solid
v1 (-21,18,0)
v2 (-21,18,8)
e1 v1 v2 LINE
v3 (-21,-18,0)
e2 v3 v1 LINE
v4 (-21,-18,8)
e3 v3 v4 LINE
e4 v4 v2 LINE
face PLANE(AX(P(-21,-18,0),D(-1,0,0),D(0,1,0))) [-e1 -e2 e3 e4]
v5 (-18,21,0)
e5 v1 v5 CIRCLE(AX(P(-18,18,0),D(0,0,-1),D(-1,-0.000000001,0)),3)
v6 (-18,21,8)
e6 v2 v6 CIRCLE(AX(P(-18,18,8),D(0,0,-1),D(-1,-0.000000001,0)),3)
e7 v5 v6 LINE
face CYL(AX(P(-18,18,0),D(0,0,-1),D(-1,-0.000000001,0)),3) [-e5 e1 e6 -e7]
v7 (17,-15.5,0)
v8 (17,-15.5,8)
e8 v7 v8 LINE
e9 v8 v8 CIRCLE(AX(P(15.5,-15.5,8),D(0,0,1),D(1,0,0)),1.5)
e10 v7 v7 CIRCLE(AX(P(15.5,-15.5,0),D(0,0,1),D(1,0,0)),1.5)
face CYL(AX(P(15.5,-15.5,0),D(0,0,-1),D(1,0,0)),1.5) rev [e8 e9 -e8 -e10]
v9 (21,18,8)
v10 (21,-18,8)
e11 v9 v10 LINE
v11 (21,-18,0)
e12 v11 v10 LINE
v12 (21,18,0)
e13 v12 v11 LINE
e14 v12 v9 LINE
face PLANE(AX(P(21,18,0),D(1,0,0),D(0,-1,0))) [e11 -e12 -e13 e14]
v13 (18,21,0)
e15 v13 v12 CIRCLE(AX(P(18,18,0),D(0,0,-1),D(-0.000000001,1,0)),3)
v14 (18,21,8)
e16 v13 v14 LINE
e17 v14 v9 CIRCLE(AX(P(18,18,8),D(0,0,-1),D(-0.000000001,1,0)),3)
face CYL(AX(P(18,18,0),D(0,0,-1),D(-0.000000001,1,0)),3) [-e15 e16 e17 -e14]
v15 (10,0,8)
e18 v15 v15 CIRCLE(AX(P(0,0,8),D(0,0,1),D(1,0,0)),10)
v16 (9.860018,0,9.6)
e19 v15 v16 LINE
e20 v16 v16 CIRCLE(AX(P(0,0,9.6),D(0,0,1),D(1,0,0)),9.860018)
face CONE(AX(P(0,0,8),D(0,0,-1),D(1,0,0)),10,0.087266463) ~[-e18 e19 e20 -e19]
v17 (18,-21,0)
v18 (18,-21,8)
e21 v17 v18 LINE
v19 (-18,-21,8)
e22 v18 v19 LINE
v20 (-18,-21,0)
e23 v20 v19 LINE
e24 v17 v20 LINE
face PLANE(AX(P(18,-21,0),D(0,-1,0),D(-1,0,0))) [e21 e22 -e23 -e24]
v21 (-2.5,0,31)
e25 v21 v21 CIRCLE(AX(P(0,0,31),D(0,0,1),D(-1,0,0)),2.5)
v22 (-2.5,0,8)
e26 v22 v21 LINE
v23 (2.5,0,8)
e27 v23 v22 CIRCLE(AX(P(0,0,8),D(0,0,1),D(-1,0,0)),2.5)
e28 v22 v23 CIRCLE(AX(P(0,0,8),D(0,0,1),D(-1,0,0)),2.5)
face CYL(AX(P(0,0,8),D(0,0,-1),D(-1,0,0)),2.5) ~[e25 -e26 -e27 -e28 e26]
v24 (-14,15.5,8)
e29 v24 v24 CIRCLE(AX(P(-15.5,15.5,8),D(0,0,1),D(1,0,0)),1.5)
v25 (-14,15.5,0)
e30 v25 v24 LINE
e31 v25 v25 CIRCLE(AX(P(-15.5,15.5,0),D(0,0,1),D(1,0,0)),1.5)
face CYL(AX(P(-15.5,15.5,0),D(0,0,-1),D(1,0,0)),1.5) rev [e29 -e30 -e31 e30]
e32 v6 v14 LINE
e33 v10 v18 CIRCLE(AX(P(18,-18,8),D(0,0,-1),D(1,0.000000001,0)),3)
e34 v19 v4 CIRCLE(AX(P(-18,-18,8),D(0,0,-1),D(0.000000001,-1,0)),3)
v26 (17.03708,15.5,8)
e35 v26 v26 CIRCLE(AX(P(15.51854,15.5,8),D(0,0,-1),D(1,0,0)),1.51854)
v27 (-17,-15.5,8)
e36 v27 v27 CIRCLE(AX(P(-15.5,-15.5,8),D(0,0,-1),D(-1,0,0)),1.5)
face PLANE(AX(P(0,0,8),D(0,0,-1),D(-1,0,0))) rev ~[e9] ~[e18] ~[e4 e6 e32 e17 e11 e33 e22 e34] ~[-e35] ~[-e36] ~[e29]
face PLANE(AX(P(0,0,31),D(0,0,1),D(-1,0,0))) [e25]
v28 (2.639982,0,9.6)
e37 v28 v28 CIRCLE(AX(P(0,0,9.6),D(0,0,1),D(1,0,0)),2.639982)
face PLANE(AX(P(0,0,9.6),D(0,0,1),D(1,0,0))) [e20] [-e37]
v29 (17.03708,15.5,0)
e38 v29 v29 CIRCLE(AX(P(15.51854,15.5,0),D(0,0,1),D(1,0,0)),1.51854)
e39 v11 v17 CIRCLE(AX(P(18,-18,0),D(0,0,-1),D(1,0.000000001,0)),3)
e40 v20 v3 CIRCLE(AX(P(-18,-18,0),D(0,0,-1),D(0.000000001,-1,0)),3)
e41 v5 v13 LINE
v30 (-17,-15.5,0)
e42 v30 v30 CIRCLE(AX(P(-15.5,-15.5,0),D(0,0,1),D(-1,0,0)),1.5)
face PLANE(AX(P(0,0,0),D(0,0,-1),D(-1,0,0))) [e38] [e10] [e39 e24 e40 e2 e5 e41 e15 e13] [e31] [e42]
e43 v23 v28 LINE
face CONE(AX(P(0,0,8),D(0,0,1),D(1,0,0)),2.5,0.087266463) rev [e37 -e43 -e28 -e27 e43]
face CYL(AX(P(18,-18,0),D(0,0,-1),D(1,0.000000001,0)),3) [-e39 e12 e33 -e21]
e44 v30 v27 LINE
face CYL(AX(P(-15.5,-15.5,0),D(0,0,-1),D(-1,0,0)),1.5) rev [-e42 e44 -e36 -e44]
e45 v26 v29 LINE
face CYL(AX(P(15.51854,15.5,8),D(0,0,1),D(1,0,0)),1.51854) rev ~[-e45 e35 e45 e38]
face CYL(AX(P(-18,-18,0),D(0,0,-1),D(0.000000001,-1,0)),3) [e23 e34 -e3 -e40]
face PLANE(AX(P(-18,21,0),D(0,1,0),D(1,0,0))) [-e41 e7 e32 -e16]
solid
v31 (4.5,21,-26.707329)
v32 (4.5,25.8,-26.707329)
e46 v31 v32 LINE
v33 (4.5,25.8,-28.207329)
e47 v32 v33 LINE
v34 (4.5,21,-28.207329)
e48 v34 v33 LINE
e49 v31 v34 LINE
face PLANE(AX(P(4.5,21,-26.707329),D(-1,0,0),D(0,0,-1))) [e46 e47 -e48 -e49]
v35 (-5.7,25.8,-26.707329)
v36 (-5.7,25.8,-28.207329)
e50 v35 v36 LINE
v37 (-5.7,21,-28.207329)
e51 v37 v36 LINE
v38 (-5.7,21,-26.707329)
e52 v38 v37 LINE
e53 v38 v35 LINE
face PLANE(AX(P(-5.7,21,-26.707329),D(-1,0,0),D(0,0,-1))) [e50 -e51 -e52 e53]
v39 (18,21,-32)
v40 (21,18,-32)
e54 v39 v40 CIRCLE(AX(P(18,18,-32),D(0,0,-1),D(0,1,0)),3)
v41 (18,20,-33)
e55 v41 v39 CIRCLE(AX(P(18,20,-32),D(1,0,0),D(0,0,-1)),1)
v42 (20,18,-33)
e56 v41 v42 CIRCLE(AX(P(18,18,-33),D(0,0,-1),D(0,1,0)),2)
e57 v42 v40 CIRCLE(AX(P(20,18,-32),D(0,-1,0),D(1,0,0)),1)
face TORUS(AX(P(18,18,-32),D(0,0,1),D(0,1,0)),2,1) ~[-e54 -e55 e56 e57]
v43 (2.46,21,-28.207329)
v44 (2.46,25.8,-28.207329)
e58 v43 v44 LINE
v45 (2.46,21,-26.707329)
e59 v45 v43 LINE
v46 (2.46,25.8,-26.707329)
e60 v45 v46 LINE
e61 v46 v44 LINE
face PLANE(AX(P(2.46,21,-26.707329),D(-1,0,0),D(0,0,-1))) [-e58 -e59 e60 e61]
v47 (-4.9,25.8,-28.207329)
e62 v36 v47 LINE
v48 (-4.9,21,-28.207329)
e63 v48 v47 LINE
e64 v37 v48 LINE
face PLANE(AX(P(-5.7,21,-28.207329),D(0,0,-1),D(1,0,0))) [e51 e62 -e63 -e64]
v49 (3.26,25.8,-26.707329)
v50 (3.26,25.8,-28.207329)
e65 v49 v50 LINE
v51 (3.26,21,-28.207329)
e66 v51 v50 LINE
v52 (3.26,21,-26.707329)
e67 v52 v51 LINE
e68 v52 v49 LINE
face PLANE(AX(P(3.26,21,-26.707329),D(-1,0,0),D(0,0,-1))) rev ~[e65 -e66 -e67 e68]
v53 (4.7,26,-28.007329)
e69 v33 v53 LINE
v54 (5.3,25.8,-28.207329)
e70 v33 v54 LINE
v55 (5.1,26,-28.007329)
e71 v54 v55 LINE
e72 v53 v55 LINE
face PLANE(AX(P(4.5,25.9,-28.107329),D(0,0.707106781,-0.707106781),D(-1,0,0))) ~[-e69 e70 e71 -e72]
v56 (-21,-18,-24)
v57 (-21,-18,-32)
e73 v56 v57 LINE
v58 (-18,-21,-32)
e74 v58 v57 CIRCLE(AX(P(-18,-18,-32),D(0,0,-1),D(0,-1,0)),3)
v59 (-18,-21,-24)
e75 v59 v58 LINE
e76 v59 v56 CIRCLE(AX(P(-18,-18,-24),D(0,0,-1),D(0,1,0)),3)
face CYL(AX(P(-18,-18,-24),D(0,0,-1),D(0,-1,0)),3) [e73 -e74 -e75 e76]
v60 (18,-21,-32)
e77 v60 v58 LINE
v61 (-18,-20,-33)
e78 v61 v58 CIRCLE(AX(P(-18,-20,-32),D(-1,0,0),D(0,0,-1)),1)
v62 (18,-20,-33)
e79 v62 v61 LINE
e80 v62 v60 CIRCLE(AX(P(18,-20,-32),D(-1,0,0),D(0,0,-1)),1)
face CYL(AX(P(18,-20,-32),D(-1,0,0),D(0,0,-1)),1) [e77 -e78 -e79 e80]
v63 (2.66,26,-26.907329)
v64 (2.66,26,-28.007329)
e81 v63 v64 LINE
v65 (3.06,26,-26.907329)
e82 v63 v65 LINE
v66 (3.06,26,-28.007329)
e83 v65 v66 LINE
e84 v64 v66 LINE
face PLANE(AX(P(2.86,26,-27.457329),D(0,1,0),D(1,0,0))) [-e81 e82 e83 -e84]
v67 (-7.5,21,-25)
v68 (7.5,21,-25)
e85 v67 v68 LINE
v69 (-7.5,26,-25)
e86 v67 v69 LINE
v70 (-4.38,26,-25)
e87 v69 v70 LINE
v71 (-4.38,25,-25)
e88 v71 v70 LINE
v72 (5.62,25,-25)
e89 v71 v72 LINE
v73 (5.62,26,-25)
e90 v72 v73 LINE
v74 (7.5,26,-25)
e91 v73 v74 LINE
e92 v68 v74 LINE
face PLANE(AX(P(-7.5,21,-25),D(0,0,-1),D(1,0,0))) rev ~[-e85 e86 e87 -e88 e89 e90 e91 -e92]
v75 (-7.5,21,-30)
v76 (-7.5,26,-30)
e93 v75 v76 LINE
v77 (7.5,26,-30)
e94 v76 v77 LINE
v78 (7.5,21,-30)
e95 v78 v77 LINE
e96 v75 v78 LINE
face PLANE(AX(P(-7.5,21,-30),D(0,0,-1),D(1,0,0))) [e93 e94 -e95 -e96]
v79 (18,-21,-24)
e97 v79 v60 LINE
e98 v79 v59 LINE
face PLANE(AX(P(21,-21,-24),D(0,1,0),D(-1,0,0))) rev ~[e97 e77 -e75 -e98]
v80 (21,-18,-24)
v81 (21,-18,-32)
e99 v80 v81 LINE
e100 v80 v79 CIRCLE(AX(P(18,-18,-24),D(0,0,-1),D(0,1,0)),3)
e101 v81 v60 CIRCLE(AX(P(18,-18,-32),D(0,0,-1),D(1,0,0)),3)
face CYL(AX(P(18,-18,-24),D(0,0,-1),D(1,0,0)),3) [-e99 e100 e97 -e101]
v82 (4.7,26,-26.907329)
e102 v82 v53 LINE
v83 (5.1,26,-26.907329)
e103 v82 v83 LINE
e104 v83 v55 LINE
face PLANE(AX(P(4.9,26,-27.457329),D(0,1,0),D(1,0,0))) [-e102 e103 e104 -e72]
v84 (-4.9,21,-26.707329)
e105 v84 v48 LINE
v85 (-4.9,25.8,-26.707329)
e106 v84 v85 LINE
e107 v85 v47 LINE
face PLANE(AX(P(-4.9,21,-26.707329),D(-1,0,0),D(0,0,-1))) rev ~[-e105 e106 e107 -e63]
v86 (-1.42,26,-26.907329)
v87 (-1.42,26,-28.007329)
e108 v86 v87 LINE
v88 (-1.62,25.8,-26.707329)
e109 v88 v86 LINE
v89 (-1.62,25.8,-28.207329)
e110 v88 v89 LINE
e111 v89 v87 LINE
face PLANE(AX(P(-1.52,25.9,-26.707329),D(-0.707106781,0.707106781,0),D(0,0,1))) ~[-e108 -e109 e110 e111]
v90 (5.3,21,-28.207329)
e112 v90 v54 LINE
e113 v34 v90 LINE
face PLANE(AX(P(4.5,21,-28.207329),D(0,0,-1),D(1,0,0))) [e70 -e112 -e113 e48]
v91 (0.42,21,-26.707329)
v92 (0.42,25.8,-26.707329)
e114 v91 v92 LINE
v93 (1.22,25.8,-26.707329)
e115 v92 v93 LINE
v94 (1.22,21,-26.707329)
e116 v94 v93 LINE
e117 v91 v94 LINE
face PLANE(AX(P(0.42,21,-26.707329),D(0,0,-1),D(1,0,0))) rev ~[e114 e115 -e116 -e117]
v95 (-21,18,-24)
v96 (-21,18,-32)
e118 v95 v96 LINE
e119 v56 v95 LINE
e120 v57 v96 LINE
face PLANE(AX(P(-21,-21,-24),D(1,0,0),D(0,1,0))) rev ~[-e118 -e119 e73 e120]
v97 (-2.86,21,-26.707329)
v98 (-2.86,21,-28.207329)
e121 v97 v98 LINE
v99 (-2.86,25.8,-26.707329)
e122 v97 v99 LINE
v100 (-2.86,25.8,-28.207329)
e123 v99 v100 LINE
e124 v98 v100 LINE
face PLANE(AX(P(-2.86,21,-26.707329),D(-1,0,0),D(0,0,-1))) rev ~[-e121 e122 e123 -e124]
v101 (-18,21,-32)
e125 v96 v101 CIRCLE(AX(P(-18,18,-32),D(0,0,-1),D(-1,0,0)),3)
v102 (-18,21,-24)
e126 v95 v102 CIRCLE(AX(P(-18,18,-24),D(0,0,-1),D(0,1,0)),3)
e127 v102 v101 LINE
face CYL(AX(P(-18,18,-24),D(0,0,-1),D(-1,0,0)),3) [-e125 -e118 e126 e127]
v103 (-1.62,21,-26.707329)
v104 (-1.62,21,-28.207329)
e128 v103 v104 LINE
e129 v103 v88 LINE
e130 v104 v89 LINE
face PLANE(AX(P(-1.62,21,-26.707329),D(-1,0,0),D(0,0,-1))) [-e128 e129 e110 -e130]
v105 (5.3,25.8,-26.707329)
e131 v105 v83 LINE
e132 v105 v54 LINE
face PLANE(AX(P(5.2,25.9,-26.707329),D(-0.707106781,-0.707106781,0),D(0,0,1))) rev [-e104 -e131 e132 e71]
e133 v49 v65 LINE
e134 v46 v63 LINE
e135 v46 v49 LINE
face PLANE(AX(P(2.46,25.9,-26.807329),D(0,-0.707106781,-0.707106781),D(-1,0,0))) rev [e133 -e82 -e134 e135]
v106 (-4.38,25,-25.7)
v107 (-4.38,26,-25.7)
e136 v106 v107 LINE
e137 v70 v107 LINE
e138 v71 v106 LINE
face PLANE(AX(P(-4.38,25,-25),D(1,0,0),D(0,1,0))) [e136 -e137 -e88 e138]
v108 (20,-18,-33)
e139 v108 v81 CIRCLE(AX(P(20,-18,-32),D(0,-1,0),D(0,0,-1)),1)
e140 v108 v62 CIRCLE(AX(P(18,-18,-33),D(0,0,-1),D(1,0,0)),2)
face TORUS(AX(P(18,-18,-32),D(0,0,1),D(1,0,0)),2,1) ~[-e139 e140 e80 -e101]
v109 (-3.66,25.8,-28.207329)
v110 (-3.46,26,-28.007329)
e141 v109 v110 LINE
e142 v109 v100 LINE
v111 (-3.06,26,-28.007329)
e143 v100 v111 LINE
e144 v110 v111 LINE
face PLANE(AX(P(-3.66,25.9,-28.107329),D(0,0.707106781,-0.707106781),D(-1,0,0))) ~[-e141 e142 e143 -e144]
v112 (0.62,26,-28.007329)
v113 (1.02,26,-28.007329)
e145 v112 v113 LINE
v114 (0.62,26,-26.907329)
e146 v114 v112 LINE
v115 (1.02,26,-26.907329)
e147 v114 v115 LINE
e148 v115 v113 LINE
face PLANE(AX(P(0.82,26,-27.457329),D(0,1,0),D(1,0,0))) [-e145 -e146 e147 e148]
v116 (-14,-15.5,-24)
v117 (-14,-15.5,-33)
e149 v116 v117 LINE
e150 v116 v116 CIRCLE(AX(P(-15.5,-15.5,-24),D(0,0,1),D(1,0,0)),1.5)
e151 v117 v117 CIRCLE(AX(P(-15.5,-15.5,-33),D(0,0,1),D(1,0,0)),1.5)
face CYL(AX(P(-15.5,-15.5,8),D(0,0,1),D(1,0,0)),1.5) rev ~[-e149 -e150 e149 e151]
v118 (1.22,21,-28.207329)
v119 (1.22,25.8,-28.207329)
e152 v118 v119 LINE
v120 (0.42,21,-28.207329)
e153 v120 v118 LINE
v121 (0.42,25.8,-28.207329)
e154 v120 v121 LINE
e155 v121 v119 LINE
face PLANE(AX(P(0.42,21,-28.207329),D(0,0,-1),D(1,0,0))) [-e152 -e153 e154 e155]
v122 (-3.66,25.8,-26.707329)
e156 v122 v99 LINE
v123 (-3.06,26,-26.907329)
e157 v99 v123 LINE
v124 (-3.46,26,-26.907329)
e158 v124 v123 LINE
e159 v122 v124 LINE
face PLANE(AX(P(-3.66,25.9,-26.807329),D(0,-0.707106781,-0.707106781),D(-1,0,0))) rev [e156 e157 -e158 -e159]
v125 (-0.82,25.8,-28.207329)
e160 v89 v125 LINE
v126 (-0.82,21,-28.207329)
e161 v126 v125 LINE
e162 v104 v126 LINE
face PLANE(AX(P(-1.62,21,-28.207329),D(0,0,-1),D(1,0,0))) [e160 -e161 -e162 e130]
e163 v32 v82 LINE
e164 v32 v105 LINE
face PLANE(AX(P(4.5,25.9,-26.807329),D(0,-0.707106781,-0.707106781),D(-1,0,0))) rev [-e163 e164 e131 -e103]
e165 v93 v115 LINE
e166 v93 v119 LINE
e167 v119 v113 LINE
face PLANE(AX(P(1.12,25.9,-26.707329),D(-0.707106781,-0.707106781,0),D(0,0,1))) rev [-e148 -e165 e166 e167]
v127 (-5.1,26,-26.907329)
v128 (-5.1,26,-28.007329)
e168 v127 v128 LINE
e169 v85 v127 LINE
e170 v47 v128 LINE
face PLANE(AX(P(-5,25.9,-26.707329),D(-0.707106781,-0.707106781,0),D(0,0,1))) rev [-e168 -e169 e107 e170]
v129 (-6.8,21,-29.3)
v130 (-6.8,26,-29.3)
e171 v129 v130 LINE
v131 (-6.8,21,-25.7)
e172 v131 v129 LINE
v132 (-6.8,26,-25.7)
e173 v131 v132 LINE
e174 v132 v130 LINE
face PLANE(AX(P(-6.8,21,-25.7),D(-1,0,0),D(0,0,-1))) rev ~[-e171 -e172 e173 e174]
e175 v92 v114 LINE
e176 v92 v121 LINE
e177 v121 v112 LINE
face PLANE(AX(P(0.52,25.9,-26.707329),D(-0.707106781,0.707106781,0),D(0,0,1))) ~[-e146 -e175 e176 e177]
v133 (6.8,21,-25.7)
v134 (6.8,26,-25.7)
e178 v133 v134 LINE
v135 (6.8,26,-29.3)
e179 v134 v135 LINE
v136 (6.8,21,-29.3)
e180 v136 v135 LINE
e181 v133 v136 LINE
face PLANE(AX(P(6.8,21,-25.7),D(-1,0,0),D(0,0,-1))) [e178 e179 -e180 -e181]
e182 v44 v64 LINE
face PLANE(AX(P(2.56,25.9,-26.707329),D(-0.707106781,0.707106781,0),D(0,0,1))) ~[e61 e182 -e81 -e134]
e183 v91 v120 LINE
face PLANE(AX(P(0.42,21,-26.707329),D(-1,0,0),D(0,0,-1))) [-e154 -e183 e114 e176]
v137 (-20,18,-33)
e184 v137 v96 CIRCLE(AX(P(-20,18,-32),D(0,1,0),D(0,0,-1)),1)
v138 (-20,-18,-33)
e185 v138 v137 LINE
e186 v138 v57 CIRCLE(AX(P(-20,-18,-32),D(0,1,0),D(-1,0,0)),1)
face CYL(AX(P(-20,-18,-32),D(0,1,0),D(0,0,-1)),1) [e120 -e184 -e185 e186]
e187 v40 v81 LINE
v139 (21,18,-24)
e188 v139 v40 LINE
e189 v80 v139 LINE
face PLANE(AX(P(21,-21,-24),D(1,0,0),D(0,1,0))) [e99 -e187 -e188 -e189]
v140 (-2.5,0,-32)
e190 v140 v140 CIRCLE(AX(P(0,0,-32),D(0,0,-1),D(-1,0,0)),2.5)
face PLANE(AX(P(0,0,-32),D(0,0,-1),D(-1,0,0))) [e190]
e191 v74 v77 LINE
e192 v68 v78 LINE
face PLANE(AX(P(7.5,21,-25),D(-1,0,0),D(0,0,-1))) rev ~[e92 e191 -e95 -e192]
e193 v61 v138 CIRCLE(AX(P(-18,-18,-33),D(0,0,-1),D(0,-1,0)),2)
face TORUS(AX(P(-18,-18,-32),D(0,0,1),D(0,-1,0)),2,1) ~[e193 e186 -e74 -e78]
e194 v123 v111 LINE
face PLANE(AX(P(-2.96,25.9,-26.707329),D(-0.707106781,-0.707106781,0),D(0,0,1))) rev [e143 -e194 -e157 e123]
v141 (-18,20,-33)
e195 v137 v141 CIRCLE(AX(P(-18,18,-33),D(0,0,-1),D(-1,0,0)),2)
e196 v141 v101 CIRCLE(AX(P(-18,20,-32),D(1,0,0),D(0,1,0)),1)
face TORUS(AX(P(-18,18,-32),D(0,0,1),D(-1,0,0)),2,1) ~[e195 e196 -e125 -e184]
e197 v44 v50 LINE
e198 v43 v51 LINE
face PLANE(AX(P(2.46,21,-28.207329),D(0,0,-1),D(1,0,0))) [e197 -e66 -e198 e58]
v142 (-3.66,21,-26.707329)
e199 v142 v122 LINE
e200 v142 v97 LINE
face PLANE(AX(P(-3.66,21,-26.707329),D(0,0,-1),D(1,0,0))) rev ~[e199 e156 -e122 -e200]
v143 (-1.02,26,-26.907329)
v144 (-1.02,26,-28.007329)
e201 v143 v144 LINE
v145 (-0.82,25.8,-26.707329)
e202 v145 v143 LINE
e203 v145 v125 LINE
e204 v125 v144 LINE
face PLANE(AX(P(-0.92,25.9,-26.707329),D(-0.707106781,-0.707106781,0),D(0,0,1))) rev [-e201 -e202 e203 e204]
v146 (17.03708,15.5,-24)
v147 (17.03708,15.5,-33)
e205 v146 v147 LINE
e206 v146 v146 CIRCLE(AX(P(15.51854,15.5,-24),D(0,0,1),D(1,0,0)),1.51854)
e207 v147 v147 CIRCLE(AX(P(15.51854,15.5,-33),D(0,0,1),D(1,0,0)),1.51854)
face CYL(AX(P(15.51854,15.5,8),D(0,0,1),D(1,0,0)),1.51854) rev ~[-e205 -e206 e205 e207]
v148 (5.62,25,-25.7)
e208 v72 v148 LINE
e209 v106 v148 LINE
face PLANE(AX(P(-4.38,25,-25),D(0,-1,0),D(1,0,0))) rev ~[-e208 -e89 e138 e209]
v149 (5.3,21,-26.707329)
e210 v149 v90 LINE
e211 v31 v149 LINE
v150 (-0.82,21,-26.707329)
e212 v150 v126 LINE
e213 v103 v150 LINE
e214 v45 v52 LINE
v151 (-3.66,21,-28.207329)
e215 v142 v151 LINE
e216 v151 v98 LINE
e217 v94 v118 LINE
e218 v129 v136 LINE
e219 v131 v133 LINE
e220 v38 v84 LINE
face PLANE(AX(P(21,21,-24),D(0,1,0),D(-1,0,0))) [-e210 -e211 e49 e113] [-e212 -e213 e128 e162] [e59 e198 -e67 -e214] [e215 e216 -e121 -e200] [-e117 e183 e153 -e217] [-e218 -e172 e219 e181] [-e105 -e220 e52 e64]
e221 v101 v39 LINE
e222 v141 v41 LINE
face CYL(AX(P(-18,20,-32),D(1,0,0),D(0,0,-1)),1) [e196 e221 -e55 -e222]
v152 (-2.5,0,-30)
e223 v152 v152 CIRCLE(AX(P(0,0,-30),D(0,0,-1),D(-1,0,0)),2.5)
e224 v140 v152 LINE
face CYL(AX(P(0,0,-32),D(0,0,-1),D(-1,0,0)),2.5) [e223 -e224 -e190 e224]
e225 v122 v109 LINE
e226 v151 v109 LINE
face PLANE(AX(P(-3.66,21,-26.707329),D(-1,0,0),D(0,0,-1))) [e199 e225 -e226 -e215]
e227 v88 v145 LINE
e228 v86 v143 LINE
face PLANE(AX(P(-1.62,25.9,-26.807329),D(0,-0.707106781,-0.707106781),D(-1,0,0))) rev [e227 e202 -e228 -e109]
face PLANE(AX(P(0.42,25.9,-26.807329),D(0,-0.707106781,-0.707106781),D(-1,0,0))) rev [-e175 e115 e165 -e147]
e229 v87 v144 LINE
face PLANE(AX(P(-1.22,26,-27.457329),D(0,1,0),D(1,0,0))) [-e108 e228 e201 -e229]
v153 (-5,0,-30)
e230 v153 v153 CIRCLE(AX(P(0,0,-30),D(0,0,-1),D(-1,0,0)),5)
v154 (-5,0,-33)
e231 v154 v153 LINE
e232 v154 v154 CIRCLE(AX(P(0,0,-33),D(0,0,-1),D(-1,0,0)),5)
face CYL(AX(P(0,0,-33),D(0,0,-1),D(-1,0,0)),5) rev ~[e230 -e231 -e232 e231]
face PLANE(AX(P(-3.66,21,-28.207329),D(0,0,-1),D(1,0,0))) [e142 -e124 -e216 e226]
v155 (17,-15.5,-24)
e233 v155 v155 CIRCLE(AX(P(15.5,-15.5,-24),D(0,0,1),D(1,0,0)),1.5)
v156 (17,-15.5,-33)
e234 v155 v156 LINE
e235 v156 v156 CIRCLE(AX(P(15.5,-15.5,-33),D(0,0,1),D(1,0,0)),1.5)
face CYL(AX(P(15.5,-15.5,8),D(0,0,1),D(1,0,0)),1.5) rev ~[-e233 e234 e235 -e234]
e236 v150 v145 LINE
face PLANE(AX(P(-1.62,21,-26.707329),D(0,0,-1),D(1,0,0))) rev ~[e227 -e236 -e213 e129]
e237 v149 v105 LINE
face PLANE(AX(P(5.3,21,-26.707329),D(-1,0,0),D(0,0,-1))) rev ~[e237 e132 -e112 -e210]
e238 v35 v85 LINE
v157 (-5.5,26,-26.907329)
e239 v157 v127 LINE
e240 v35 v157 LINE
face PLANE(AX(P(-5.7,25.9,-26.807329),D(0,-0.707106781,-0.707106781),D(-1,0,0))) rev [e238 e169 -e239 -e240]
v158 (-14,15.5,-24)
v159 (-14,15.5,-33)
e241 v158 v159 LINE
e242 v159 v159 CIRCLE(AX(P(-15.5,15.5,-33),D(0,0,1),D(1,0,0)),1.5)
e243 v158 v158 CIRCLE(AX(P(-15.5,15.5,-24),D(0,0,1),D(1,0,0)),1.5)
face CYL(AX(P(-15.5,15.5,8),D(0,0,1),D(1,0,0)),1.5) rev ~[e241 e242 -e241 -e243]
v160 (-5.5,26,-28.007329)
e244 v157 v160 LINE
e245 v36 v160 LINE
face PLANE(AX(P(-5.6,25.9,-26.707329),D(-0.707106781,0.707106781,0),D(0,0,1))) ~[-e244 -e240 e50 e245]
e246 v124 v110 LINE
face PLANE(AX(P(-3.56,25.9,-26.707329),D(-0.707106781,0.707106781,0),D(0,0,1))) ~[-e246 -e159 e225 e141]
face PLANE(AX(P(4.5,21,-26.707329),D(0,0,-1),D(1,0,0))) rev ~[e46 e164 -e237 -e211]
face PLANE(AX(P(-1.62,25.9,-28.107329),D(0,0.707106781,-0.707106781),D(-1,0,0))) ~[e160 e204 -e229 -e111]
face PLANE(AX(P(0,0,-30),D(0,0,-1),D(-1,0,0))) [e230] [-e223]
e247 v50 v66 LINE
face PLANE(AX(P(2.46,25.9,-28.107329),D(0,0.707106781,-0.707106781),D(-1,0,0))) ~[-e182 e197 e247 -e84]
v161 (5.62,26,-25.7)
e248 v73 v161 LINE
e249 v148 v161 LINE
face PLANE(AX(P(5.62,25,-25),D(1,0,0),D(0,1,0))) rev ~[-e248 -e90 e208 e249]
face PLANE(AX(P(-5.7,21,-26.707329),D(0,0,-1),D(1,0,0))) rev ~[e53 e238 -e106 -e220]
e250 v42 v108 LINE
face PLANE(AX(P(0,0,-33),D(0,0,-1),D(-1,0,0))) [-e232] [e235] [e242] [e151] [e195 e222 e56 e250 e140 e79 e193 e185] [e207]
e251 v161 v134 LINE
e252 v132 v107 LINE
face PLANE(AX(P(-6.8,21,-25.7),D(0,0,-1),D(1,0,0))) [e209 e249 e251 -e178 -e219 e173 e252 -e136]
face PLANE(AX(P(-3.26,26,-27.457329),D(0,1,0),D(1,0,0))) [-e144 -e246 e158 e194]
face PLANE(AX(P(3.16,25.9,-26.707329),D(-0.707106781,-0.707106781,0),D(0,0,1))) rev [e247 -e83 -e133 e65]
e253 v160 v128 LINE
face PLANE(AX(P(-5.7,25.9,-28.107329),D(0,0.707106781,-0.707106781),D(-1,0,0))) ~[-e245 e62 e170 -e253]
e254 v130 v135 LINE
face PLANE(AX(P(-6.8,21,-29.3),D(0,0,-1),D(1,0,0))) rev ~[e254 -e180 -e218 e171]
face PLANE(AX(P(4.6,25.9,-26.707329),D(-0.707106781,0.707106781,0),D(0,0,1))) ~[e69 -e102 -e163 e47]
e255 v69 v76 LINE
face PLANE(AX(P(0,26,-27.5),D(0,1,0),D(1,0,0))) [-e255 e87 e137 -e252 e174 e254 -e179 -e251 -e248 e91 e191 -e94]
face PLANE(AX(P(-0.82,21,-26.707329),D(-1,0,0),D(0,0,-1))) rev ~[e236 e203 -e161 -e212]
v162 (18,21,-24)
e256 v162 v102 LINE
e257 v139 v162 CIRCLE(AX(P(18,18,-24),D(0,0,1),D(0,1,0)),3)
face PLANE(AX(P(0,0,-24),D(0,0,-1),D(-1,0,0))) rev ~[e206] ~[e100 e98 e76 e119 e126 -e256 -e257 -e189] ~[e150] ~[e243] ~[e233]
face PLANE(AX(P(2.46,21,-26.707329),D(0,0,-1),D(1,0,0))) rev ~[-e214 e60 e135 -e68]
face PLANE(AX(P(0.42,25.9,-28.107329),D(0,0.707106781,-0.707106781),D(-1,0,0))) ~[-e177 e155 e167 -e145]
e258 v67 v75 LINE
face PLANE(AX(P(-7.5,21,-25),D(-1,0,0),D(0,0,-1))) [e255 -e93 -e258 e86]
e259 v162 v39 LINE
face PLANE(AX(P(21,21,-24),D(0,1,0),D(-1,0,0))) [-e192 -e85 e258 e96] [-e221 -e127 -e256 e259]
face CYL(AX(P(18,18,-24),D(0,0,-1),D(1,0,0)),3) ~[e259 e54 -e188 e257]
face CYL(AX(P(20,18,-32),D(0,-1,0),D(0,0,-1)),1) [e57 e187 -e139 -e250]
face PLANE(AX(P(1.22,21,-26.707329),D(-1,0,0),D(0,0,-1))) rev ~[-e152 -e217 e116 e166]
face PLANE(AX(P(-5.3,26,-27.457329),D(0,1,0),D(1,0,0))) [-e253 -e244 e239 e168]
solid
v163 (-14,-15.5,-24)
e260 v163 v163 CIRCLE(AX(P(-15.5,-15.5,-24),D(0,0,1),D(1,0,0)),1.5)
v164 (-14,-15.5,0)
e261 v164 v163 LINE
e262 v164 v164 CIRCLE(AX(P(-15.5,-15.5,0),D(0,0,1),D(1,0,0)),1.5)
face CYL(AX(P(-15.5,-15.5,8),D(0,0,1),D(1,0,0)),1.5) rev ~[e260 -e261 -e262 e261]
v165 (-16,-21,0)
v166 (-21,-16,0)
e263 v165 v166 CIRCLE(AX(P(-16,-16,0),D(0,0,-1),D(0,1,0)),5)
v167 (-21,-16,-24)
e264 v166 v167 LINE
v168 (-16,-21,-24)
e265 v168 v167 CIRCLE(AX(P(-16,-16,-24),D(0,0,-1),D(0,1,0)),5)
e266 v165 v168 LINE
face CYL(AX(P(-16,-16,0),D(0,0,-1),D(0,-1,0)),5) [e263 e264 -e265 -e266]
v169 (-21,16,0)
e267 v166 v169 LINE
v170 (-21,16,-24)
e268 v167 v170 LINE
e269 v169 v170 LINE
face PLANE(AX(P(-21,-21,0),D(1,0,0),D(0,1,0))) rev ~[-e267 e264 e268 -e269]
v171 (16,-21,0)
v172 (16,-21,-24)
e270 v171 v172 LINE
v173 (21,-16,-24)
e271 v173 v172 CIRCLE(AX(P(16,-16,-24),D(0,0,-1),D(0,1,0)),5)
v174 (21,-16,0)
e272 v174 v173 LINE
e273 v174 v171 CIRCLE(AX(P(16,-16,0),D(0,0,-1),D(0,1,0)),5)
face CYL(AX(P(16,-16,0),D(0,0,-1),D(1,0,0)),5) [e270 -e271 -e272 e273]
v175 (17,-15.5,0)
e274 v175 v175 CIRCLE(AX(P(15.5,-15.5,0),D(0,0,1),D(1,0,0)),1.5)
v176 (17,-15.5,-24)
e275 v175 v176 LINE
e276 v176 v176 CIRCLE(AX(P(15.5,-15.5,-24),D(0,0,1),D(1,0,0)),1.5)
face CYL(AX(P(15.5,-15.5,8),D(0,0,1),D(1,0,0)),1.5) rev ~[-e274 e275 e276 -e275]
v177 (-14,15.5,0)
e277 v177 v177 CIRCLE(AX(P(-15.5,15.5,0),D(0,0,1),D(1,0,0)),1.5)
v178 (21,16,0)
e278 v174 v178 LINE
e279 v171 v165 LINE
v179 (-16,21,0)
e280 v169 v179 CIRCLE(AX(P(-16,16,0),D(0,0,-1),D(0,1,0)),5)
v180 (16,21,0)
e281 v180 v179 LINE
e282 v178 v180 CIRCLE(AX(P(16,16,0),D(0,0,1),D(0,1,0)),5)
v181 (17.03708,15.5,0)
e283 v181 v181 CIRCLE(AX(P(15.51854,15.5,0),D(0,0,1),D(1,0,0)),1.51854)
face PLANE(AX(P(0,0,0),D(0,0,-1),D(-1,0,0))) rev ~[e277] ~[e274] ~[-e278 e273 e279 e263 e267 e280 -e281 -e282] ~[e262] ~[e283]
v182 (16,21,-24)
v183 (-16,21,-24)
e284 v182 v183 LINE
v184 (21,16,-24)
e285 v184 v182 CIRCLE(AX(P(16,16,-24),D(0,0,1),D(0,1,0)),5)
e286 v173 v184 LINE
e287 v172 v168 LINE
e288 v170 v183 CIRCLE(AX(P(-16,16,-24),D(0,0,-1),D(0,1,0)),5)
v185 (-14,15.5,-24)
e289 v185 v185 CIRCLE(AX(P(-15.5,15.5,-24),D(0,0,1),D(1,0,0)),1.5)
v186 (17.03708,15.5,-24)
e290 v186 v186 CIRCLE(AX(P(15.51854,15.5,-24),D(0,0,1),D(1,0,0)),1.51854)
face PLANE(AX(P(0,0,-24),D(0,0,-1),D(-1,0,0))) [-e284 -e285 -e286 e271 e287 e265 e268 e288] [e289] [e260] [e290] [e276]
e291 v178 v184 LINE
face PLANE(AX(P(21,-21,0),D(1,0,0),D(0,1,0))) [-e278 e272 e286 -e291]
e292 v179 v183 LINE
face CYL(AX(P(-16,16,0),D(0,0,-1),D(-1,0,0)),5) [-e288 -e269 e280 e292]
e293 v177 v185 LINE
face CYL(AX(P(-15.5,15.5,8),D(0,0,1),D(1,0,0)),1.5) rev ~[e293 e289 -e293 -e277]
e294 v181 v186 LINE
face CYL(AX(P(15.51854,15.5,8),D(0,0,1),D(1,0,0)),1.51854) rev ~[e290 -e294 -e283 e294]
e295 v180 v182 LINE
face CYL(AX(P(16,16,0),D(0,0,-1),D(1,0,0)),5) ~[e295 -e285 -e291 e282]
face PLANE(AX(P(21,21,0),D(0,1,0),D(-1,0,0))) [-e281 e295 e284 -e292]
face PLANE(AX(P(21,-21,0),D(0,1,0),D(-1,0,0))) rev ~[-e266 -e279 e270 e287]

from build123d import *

# Parameters (mm, degrees)
SKETCH_1_R          = 1.5
EXTRUDE_1_DEPTH     = 8
SKETCH_4_R          = 2.5
EXTRUDE_2_DEPTH     = 23
SKETCH_9_W          = 42
SKETCH_9_H          = 42
EXTRUDE_7_DEPTH     = 24
SKETCH_10_W         = 42
SKETCH_10_H         = 42
EXTRUDE_8_DEPTH     = 9
FILLET_1_R          = 3
FILLET_2_R          = 5
SKETCH_12_R         = 1.5
SKETCH_12_R_2       = 1.518540069
CUT_EXTRUDE_1_DEPTH = 51.626080235
SKETCH_14_W         = 15
SKETCH_14_H         = 5
SKETCH_14_W_2       = 13.6
SKETCH_14_H_2       = 3.6
SKETCH_14_W_3       = 0.8
SKETCH_14_H_3       = 1.5
EXTRUDE_10_DEPTH    = 5
CHAMFER_1_SIZE      = 0.2
SKETCH_15_W         = 10
SKETCH_15_H         = 1
CUT_EXTRUDE_2_DEPTH = 0.7
FILLET_3_R          = 1
SKETCH_16_R         = 10
SKETCH_16_R_2       = 2.5
EXTRUDE_11_DEPTH    = 1.6
EXTRUDE_11_DRAFT    = 5
SKETCH_18_R         = 5
CUT_EXTRUDE_3_DEPTH = 3
EXTRUDE_START       = 2
SKETCH_19_R         = 2.5
EXTRUDE_13_DEPTH    = 2


with BuildPart() as part:
    # 草图1 → 凸台-拉伸1 (new body)
    with BuildSketch(Plane.XY):
        with BuildLine():
            Line((-18, 21), (18, 21))
            ThreePointArc((18, 21), (20.121320344, 20.121320344), (21, 18))
            Line((21, 18), (21, -18))
            ThreePointArc((21, -18), (20.121320344, -20.121320344), (18, -21))
            Line((18, -21), (-18, -21))
            ThreePointArc((-18, -21), (-20.121320344, -20.121320344), (-21, -18))
            Line((-21, -18), (-21, 18))
            ThreePointArc((-21, 18), (-20.121320344, 20.121320344), (-18, 21))
        make_face()
        with Locations((-15.5, 15.5)):
            Circle(SKETCH_1_R, mode=Mode.SUBTRACT)
        with Locations(Location((15.5, 15.5, 0), (0, 0, 180))):
            Circle(SKETCH_1_R, mode=Mode.SUBTRACT)
        with Locations((15.5, -15.5)):
            Circle(SKETCH_1_R, mode=Mode.SUBTRACT)
        with Locations(Location((-15.5, -15.5, 0), (0, 0, 180))):
            Circle(SKETCH_1_R, mode=Mode.SUBTRACT)
    extrude(amount=EXTRUDE_1_DEPTH)

    # 草图4 → 凸台-拉伸2 (add)
    with BuildSketch(Plane.XY.offset(8)):
        with Locations(Location((0, 0, 0), (0, 0, 180))):
            Circle(SKETCH_4_R)
    extrude(amount=EXTRUDE_2_DEPTH)


with BuildPart() as body_2:
    # 草图9 → 凸台-拉伸7 (new body)
    with BuildSketch(Plane(origin=(0, 0, 0), x_dir=(-1, 0, 0), z_dir=(0, 0, -1))):
        Rectangle(SKETCH_9_W, SKETCH_9_H)
    extrude(amount=EXTRUDE_7_DEPTH)

    # 圆角2
    fillet_2_edges = [body_2.edges().sort_by_distance(p)[0] for p in [
        (-21, -21, -12),
        (21, -21, -12),
        (21, 21, -12),
        (-21, 21, -12),
    ]]
    fillet(fillet_2_edges, radius=FILLET_2_R)


with BuildPart() as body_3:
    # 草图10 → 凸台-拉伸8 (new body)
    with BuildSketch(Plane(origin=(0, 0, -24), x_dir=(-1, 0, 0), z_dir=(0, 0, -1))):
        Rectangle(SKETCH_10_W, SKETCH_10_H)
    extrude(amount=EXTRUDE_8_DEPTH)

    # 圆角1
    fillet_1_edges = [body_3.edges().sort_by_distance(p)[0] for p in [
        (21, 21, -28.5),
        (-21, 21, -28.5),
        (-21, -21, -28.5),
        (21, -21, -28.5),
    ]]
    fillet(fillet_1_edges, radius=FILLET_1_R)


with BuildPart() as cut_extrude_1_tool:
    # 草图12 → 切除-拉伸1 (new, through all)
    with BuildSketch(Plane.XY.offset(8)):
        with Locations((-15.5, 15.5)):
            Circle(SKETCH_12_R)
        with Locations((15.518540069, 15.5)):
            Circle(SKETCH_12_R_2)
        with Locations((-15.5, -15.5)):
            Circle(SKETCH_12_R)
        with Locations((15.5, -15.5)):
            Circle(SKETCH_12_R)
    extrude(amount=-CUT_EXTRUDE_1_DEPTH)


with BuildPart() as part_1:
    add(part.part)

    # 切除-拉伸1: cut by cut_extrude_1_tool
    add(cut_extrude_1_tool.part, mode=Mode.SUBTRACT)


with BuildPart() as body_2_1:
    add(body_2.part)

    # 切除-拉伸1: cut by cut_extrude_1_tool
    add(cut_extrude_1_tool.part, mode=Mode.SUBTRACT)


with BuildPart() as body_3_1:
    add(body_3.part)

    # 切除-拉伸1: cut by cut_extrude_1_tool
    add(cut_extrude_1_tool.part, mode=Mode.SUBTRACT)

    # 草图14 → 凸台-拉伸10 (add)
    # profile 1 of 7: a face of its own
    with BuildSketch(Plane(origin=(0, 21, 0), x_dir=(1, 0, 0), z_dir=(0, 1, 0))):
        with Locations((0, 27.5)):
            Rectangle(SKETCH_14_W, SKETCH_14_H)
        with Locations((0, 27.5)):
            Rectangle(SKETCH_14_W_2, SKETCH_14_H_2, mode=Mode.SUBTRACT)
    # profile 2 of 7: a face of its own
    with BuildSketch(Plane(origin=(0, 21, 0), x_dir=(1, 0, 0), z_dir=(0, 1, 0))):
        with Locations((-5.3, 27.457329348)):
            Rectangle(SKETCH_14_W_3, SKETCH_14_H_3)
    # profile 3 of 7: a face of its own
    with BuildSketch(Plane(origin=(0, 21, 0), x_dir=(1, 0, 0), z_dir=(0, 1, 0))):
        with Locations((-1.22, 27.457329348)):
            Rectangle(SKETCH_14_W_3, SKETCH_14_H_3)
    # profile 4 of 7: a face of its own
    with BuildSketch(Plane(origin=(0, 21, 0), x_dir=(1, 0, 0), z_dir=(0, 1, 0))):
        with Locations((4.9, 27.457329348)):
            Rectangle(SKETCH_14_W_3, SKETCH_14_H_3)
    # profile 5 of 7: a face of its own
    with BuildSketch(Plane(origin=(0, 21, 0), x_dir=(1, 0, 0), z_dir=(0, 1, 0))):
        with Locations((2.86, 27.457329348)):
            Rectangle(SKETCH_14_W_3, SKETCH_14_H_3)
    # profile 6 of 7: a face of its own
    with BuildSketch(Plane(origin=(0, 21, 0), x_dir=(1, 0, 0), z_dir=(0, 1, 0))):
        with Locations((-3.26, 27.457329348)):
            Rectangle(SKETCH_14_W_3, SKETCH_14_H_3)
    # profile 7 of 7: a face of its own
    with BuildSketch(Plane(origin=(0, 21, 0), x_dir=(1, 0, 0), z_dir=(0, 1, 0))):
        with Locations((0.82, 27.457329348)):
            Rectangle(SKETCH_14_W_3, SKETCH_14_H_3)
    extrude(amount=EXTRUDE_10_DEPTH)

    # 倒角1
    chamfer_1_edges = [body_3_1.edges().sort_by_distance(p)[0] for p in [
        (5.3, 26, -27.457329348),
        (4.9, 26, -28.207329348),
        (4.5, 26, -27.457329348),
        (4.9, 26, -26.707329348),
        (3.26, 26, -27.457329348),
        (2.86, 26, -28.207329348),
        (2.46, 26, -27.457329348),
        (2.86, 26, -26.707329348),
        (-2.86, 26, -27.457329348),
        (-3.26, 26, -28.207329348),
        (-3.66, 26, -27.457329348),
        (-3.26, 26, -26.707329348),
        (1.22, 26, -27.457329348),
        (0.82, 26, -28.207329348),
        (0.42, 26, -27.457329348),
        (0.82, 26, -26.707329348),
        (-4.9, 26, -27.457329348),
        (-5.3, 26, -28.207329348),
        (-5.7, 26, -27.457329348),
        (-5.3, 26, -26.707329348),
        (-0.82, 26, -27.457329348),
        (-1.22, 26, -28.207329348),
        (-1.62, 26, -27.457329348),
        (-1.22, 26, -26.707329348),
    ]]
    chamfer(chamfer_1_edges, length=CHAMFER_1_SIZE)

    # 草图15 → 切除-拉伸2 (cut)
    with BuildSketch(Plane.XY.offset(-25)):
        with Locations((0.62, 25.5)):
            Rectangle(SKETCH_15_W, SKETCH_15_H)
    extrude(amount=-CUT_EXTRUDE_2_DEPTH, mode=Mode.SUBTRACT)

    # 圆角3
    fillet_3_edges = [body_3_1.edges().sort_by_distance(p)[0] for p in [
        (0, -21, -33),
        (21, 0, -33),
        (-21, 0, -33),
        (0, 21, -33),
        (20.121320344, 20.121320344, -33),
        (-20.121320344, 20.121320344, -33),
        (-20.121320344, -20.121320344, -33),
        (20.121320344, -20.121320344, -33),
    ]]
    fillet(fillet_3_edges, radius=FILLET_3_R)

    # 草图18 → 切除-拉伸3 (cut)
    with BuildSketch(Plane(origin=(0, 0, -33), x_dir=(-1, 0, 0), z_dir=(0, 0, -1))):
        Circle(SKETCH_18_R)
    extrude(amount=-CUT_EXTRUDE_3_DEPTH, mode=Mode.SUBTRACT)

    # 草图19 → 凸台-拉伸13 (add)
    with BuildSketch(Plane(origin=(0, 0, -30), x_dir=(-1, 0, 0), z_dir=(0, 0, -1)).offset(EXTRUDE_START)):
        Circle(SKETCH_19_R)
    extrude(amount=-EXTRUDE_13_DEPTH)


with BuildPart() as extrude_11_tool:
    # 草图16 → 凸台-拉伸11 (with draft: the straight prism first)
    with BuildSketch(Plane.XY.offset(8)):
        Circle(SKETCH_16_R)
        Circle(SKETCH_16_R_2, mode=Mode.SUBTRACT)
    extrude(amount=EXTRUDE_11_DEPTH)
    # 凸台-拉伸11: the draft: its side faces are tilted about the plane it starts from
    extrude_11_sides = [extrude_11_tool.faces().sort_by_distance(p)[0] for p in [
        (-10, 0, 8.8),
        (-2.5, 0, 8.8),
    ]]
    draft(extrude_11_sides, Plane.XY.offset(8), EXTRUDE_11_DRAFT)


with BuildPart() as part_2:
    add(part_1.part)

    # 凸台-拉伸11: add extrude_11_tool
    add(extrude_11_tool.part)


solid = Compound([body_2_1.part, body_3_1.part, part_2.part])
